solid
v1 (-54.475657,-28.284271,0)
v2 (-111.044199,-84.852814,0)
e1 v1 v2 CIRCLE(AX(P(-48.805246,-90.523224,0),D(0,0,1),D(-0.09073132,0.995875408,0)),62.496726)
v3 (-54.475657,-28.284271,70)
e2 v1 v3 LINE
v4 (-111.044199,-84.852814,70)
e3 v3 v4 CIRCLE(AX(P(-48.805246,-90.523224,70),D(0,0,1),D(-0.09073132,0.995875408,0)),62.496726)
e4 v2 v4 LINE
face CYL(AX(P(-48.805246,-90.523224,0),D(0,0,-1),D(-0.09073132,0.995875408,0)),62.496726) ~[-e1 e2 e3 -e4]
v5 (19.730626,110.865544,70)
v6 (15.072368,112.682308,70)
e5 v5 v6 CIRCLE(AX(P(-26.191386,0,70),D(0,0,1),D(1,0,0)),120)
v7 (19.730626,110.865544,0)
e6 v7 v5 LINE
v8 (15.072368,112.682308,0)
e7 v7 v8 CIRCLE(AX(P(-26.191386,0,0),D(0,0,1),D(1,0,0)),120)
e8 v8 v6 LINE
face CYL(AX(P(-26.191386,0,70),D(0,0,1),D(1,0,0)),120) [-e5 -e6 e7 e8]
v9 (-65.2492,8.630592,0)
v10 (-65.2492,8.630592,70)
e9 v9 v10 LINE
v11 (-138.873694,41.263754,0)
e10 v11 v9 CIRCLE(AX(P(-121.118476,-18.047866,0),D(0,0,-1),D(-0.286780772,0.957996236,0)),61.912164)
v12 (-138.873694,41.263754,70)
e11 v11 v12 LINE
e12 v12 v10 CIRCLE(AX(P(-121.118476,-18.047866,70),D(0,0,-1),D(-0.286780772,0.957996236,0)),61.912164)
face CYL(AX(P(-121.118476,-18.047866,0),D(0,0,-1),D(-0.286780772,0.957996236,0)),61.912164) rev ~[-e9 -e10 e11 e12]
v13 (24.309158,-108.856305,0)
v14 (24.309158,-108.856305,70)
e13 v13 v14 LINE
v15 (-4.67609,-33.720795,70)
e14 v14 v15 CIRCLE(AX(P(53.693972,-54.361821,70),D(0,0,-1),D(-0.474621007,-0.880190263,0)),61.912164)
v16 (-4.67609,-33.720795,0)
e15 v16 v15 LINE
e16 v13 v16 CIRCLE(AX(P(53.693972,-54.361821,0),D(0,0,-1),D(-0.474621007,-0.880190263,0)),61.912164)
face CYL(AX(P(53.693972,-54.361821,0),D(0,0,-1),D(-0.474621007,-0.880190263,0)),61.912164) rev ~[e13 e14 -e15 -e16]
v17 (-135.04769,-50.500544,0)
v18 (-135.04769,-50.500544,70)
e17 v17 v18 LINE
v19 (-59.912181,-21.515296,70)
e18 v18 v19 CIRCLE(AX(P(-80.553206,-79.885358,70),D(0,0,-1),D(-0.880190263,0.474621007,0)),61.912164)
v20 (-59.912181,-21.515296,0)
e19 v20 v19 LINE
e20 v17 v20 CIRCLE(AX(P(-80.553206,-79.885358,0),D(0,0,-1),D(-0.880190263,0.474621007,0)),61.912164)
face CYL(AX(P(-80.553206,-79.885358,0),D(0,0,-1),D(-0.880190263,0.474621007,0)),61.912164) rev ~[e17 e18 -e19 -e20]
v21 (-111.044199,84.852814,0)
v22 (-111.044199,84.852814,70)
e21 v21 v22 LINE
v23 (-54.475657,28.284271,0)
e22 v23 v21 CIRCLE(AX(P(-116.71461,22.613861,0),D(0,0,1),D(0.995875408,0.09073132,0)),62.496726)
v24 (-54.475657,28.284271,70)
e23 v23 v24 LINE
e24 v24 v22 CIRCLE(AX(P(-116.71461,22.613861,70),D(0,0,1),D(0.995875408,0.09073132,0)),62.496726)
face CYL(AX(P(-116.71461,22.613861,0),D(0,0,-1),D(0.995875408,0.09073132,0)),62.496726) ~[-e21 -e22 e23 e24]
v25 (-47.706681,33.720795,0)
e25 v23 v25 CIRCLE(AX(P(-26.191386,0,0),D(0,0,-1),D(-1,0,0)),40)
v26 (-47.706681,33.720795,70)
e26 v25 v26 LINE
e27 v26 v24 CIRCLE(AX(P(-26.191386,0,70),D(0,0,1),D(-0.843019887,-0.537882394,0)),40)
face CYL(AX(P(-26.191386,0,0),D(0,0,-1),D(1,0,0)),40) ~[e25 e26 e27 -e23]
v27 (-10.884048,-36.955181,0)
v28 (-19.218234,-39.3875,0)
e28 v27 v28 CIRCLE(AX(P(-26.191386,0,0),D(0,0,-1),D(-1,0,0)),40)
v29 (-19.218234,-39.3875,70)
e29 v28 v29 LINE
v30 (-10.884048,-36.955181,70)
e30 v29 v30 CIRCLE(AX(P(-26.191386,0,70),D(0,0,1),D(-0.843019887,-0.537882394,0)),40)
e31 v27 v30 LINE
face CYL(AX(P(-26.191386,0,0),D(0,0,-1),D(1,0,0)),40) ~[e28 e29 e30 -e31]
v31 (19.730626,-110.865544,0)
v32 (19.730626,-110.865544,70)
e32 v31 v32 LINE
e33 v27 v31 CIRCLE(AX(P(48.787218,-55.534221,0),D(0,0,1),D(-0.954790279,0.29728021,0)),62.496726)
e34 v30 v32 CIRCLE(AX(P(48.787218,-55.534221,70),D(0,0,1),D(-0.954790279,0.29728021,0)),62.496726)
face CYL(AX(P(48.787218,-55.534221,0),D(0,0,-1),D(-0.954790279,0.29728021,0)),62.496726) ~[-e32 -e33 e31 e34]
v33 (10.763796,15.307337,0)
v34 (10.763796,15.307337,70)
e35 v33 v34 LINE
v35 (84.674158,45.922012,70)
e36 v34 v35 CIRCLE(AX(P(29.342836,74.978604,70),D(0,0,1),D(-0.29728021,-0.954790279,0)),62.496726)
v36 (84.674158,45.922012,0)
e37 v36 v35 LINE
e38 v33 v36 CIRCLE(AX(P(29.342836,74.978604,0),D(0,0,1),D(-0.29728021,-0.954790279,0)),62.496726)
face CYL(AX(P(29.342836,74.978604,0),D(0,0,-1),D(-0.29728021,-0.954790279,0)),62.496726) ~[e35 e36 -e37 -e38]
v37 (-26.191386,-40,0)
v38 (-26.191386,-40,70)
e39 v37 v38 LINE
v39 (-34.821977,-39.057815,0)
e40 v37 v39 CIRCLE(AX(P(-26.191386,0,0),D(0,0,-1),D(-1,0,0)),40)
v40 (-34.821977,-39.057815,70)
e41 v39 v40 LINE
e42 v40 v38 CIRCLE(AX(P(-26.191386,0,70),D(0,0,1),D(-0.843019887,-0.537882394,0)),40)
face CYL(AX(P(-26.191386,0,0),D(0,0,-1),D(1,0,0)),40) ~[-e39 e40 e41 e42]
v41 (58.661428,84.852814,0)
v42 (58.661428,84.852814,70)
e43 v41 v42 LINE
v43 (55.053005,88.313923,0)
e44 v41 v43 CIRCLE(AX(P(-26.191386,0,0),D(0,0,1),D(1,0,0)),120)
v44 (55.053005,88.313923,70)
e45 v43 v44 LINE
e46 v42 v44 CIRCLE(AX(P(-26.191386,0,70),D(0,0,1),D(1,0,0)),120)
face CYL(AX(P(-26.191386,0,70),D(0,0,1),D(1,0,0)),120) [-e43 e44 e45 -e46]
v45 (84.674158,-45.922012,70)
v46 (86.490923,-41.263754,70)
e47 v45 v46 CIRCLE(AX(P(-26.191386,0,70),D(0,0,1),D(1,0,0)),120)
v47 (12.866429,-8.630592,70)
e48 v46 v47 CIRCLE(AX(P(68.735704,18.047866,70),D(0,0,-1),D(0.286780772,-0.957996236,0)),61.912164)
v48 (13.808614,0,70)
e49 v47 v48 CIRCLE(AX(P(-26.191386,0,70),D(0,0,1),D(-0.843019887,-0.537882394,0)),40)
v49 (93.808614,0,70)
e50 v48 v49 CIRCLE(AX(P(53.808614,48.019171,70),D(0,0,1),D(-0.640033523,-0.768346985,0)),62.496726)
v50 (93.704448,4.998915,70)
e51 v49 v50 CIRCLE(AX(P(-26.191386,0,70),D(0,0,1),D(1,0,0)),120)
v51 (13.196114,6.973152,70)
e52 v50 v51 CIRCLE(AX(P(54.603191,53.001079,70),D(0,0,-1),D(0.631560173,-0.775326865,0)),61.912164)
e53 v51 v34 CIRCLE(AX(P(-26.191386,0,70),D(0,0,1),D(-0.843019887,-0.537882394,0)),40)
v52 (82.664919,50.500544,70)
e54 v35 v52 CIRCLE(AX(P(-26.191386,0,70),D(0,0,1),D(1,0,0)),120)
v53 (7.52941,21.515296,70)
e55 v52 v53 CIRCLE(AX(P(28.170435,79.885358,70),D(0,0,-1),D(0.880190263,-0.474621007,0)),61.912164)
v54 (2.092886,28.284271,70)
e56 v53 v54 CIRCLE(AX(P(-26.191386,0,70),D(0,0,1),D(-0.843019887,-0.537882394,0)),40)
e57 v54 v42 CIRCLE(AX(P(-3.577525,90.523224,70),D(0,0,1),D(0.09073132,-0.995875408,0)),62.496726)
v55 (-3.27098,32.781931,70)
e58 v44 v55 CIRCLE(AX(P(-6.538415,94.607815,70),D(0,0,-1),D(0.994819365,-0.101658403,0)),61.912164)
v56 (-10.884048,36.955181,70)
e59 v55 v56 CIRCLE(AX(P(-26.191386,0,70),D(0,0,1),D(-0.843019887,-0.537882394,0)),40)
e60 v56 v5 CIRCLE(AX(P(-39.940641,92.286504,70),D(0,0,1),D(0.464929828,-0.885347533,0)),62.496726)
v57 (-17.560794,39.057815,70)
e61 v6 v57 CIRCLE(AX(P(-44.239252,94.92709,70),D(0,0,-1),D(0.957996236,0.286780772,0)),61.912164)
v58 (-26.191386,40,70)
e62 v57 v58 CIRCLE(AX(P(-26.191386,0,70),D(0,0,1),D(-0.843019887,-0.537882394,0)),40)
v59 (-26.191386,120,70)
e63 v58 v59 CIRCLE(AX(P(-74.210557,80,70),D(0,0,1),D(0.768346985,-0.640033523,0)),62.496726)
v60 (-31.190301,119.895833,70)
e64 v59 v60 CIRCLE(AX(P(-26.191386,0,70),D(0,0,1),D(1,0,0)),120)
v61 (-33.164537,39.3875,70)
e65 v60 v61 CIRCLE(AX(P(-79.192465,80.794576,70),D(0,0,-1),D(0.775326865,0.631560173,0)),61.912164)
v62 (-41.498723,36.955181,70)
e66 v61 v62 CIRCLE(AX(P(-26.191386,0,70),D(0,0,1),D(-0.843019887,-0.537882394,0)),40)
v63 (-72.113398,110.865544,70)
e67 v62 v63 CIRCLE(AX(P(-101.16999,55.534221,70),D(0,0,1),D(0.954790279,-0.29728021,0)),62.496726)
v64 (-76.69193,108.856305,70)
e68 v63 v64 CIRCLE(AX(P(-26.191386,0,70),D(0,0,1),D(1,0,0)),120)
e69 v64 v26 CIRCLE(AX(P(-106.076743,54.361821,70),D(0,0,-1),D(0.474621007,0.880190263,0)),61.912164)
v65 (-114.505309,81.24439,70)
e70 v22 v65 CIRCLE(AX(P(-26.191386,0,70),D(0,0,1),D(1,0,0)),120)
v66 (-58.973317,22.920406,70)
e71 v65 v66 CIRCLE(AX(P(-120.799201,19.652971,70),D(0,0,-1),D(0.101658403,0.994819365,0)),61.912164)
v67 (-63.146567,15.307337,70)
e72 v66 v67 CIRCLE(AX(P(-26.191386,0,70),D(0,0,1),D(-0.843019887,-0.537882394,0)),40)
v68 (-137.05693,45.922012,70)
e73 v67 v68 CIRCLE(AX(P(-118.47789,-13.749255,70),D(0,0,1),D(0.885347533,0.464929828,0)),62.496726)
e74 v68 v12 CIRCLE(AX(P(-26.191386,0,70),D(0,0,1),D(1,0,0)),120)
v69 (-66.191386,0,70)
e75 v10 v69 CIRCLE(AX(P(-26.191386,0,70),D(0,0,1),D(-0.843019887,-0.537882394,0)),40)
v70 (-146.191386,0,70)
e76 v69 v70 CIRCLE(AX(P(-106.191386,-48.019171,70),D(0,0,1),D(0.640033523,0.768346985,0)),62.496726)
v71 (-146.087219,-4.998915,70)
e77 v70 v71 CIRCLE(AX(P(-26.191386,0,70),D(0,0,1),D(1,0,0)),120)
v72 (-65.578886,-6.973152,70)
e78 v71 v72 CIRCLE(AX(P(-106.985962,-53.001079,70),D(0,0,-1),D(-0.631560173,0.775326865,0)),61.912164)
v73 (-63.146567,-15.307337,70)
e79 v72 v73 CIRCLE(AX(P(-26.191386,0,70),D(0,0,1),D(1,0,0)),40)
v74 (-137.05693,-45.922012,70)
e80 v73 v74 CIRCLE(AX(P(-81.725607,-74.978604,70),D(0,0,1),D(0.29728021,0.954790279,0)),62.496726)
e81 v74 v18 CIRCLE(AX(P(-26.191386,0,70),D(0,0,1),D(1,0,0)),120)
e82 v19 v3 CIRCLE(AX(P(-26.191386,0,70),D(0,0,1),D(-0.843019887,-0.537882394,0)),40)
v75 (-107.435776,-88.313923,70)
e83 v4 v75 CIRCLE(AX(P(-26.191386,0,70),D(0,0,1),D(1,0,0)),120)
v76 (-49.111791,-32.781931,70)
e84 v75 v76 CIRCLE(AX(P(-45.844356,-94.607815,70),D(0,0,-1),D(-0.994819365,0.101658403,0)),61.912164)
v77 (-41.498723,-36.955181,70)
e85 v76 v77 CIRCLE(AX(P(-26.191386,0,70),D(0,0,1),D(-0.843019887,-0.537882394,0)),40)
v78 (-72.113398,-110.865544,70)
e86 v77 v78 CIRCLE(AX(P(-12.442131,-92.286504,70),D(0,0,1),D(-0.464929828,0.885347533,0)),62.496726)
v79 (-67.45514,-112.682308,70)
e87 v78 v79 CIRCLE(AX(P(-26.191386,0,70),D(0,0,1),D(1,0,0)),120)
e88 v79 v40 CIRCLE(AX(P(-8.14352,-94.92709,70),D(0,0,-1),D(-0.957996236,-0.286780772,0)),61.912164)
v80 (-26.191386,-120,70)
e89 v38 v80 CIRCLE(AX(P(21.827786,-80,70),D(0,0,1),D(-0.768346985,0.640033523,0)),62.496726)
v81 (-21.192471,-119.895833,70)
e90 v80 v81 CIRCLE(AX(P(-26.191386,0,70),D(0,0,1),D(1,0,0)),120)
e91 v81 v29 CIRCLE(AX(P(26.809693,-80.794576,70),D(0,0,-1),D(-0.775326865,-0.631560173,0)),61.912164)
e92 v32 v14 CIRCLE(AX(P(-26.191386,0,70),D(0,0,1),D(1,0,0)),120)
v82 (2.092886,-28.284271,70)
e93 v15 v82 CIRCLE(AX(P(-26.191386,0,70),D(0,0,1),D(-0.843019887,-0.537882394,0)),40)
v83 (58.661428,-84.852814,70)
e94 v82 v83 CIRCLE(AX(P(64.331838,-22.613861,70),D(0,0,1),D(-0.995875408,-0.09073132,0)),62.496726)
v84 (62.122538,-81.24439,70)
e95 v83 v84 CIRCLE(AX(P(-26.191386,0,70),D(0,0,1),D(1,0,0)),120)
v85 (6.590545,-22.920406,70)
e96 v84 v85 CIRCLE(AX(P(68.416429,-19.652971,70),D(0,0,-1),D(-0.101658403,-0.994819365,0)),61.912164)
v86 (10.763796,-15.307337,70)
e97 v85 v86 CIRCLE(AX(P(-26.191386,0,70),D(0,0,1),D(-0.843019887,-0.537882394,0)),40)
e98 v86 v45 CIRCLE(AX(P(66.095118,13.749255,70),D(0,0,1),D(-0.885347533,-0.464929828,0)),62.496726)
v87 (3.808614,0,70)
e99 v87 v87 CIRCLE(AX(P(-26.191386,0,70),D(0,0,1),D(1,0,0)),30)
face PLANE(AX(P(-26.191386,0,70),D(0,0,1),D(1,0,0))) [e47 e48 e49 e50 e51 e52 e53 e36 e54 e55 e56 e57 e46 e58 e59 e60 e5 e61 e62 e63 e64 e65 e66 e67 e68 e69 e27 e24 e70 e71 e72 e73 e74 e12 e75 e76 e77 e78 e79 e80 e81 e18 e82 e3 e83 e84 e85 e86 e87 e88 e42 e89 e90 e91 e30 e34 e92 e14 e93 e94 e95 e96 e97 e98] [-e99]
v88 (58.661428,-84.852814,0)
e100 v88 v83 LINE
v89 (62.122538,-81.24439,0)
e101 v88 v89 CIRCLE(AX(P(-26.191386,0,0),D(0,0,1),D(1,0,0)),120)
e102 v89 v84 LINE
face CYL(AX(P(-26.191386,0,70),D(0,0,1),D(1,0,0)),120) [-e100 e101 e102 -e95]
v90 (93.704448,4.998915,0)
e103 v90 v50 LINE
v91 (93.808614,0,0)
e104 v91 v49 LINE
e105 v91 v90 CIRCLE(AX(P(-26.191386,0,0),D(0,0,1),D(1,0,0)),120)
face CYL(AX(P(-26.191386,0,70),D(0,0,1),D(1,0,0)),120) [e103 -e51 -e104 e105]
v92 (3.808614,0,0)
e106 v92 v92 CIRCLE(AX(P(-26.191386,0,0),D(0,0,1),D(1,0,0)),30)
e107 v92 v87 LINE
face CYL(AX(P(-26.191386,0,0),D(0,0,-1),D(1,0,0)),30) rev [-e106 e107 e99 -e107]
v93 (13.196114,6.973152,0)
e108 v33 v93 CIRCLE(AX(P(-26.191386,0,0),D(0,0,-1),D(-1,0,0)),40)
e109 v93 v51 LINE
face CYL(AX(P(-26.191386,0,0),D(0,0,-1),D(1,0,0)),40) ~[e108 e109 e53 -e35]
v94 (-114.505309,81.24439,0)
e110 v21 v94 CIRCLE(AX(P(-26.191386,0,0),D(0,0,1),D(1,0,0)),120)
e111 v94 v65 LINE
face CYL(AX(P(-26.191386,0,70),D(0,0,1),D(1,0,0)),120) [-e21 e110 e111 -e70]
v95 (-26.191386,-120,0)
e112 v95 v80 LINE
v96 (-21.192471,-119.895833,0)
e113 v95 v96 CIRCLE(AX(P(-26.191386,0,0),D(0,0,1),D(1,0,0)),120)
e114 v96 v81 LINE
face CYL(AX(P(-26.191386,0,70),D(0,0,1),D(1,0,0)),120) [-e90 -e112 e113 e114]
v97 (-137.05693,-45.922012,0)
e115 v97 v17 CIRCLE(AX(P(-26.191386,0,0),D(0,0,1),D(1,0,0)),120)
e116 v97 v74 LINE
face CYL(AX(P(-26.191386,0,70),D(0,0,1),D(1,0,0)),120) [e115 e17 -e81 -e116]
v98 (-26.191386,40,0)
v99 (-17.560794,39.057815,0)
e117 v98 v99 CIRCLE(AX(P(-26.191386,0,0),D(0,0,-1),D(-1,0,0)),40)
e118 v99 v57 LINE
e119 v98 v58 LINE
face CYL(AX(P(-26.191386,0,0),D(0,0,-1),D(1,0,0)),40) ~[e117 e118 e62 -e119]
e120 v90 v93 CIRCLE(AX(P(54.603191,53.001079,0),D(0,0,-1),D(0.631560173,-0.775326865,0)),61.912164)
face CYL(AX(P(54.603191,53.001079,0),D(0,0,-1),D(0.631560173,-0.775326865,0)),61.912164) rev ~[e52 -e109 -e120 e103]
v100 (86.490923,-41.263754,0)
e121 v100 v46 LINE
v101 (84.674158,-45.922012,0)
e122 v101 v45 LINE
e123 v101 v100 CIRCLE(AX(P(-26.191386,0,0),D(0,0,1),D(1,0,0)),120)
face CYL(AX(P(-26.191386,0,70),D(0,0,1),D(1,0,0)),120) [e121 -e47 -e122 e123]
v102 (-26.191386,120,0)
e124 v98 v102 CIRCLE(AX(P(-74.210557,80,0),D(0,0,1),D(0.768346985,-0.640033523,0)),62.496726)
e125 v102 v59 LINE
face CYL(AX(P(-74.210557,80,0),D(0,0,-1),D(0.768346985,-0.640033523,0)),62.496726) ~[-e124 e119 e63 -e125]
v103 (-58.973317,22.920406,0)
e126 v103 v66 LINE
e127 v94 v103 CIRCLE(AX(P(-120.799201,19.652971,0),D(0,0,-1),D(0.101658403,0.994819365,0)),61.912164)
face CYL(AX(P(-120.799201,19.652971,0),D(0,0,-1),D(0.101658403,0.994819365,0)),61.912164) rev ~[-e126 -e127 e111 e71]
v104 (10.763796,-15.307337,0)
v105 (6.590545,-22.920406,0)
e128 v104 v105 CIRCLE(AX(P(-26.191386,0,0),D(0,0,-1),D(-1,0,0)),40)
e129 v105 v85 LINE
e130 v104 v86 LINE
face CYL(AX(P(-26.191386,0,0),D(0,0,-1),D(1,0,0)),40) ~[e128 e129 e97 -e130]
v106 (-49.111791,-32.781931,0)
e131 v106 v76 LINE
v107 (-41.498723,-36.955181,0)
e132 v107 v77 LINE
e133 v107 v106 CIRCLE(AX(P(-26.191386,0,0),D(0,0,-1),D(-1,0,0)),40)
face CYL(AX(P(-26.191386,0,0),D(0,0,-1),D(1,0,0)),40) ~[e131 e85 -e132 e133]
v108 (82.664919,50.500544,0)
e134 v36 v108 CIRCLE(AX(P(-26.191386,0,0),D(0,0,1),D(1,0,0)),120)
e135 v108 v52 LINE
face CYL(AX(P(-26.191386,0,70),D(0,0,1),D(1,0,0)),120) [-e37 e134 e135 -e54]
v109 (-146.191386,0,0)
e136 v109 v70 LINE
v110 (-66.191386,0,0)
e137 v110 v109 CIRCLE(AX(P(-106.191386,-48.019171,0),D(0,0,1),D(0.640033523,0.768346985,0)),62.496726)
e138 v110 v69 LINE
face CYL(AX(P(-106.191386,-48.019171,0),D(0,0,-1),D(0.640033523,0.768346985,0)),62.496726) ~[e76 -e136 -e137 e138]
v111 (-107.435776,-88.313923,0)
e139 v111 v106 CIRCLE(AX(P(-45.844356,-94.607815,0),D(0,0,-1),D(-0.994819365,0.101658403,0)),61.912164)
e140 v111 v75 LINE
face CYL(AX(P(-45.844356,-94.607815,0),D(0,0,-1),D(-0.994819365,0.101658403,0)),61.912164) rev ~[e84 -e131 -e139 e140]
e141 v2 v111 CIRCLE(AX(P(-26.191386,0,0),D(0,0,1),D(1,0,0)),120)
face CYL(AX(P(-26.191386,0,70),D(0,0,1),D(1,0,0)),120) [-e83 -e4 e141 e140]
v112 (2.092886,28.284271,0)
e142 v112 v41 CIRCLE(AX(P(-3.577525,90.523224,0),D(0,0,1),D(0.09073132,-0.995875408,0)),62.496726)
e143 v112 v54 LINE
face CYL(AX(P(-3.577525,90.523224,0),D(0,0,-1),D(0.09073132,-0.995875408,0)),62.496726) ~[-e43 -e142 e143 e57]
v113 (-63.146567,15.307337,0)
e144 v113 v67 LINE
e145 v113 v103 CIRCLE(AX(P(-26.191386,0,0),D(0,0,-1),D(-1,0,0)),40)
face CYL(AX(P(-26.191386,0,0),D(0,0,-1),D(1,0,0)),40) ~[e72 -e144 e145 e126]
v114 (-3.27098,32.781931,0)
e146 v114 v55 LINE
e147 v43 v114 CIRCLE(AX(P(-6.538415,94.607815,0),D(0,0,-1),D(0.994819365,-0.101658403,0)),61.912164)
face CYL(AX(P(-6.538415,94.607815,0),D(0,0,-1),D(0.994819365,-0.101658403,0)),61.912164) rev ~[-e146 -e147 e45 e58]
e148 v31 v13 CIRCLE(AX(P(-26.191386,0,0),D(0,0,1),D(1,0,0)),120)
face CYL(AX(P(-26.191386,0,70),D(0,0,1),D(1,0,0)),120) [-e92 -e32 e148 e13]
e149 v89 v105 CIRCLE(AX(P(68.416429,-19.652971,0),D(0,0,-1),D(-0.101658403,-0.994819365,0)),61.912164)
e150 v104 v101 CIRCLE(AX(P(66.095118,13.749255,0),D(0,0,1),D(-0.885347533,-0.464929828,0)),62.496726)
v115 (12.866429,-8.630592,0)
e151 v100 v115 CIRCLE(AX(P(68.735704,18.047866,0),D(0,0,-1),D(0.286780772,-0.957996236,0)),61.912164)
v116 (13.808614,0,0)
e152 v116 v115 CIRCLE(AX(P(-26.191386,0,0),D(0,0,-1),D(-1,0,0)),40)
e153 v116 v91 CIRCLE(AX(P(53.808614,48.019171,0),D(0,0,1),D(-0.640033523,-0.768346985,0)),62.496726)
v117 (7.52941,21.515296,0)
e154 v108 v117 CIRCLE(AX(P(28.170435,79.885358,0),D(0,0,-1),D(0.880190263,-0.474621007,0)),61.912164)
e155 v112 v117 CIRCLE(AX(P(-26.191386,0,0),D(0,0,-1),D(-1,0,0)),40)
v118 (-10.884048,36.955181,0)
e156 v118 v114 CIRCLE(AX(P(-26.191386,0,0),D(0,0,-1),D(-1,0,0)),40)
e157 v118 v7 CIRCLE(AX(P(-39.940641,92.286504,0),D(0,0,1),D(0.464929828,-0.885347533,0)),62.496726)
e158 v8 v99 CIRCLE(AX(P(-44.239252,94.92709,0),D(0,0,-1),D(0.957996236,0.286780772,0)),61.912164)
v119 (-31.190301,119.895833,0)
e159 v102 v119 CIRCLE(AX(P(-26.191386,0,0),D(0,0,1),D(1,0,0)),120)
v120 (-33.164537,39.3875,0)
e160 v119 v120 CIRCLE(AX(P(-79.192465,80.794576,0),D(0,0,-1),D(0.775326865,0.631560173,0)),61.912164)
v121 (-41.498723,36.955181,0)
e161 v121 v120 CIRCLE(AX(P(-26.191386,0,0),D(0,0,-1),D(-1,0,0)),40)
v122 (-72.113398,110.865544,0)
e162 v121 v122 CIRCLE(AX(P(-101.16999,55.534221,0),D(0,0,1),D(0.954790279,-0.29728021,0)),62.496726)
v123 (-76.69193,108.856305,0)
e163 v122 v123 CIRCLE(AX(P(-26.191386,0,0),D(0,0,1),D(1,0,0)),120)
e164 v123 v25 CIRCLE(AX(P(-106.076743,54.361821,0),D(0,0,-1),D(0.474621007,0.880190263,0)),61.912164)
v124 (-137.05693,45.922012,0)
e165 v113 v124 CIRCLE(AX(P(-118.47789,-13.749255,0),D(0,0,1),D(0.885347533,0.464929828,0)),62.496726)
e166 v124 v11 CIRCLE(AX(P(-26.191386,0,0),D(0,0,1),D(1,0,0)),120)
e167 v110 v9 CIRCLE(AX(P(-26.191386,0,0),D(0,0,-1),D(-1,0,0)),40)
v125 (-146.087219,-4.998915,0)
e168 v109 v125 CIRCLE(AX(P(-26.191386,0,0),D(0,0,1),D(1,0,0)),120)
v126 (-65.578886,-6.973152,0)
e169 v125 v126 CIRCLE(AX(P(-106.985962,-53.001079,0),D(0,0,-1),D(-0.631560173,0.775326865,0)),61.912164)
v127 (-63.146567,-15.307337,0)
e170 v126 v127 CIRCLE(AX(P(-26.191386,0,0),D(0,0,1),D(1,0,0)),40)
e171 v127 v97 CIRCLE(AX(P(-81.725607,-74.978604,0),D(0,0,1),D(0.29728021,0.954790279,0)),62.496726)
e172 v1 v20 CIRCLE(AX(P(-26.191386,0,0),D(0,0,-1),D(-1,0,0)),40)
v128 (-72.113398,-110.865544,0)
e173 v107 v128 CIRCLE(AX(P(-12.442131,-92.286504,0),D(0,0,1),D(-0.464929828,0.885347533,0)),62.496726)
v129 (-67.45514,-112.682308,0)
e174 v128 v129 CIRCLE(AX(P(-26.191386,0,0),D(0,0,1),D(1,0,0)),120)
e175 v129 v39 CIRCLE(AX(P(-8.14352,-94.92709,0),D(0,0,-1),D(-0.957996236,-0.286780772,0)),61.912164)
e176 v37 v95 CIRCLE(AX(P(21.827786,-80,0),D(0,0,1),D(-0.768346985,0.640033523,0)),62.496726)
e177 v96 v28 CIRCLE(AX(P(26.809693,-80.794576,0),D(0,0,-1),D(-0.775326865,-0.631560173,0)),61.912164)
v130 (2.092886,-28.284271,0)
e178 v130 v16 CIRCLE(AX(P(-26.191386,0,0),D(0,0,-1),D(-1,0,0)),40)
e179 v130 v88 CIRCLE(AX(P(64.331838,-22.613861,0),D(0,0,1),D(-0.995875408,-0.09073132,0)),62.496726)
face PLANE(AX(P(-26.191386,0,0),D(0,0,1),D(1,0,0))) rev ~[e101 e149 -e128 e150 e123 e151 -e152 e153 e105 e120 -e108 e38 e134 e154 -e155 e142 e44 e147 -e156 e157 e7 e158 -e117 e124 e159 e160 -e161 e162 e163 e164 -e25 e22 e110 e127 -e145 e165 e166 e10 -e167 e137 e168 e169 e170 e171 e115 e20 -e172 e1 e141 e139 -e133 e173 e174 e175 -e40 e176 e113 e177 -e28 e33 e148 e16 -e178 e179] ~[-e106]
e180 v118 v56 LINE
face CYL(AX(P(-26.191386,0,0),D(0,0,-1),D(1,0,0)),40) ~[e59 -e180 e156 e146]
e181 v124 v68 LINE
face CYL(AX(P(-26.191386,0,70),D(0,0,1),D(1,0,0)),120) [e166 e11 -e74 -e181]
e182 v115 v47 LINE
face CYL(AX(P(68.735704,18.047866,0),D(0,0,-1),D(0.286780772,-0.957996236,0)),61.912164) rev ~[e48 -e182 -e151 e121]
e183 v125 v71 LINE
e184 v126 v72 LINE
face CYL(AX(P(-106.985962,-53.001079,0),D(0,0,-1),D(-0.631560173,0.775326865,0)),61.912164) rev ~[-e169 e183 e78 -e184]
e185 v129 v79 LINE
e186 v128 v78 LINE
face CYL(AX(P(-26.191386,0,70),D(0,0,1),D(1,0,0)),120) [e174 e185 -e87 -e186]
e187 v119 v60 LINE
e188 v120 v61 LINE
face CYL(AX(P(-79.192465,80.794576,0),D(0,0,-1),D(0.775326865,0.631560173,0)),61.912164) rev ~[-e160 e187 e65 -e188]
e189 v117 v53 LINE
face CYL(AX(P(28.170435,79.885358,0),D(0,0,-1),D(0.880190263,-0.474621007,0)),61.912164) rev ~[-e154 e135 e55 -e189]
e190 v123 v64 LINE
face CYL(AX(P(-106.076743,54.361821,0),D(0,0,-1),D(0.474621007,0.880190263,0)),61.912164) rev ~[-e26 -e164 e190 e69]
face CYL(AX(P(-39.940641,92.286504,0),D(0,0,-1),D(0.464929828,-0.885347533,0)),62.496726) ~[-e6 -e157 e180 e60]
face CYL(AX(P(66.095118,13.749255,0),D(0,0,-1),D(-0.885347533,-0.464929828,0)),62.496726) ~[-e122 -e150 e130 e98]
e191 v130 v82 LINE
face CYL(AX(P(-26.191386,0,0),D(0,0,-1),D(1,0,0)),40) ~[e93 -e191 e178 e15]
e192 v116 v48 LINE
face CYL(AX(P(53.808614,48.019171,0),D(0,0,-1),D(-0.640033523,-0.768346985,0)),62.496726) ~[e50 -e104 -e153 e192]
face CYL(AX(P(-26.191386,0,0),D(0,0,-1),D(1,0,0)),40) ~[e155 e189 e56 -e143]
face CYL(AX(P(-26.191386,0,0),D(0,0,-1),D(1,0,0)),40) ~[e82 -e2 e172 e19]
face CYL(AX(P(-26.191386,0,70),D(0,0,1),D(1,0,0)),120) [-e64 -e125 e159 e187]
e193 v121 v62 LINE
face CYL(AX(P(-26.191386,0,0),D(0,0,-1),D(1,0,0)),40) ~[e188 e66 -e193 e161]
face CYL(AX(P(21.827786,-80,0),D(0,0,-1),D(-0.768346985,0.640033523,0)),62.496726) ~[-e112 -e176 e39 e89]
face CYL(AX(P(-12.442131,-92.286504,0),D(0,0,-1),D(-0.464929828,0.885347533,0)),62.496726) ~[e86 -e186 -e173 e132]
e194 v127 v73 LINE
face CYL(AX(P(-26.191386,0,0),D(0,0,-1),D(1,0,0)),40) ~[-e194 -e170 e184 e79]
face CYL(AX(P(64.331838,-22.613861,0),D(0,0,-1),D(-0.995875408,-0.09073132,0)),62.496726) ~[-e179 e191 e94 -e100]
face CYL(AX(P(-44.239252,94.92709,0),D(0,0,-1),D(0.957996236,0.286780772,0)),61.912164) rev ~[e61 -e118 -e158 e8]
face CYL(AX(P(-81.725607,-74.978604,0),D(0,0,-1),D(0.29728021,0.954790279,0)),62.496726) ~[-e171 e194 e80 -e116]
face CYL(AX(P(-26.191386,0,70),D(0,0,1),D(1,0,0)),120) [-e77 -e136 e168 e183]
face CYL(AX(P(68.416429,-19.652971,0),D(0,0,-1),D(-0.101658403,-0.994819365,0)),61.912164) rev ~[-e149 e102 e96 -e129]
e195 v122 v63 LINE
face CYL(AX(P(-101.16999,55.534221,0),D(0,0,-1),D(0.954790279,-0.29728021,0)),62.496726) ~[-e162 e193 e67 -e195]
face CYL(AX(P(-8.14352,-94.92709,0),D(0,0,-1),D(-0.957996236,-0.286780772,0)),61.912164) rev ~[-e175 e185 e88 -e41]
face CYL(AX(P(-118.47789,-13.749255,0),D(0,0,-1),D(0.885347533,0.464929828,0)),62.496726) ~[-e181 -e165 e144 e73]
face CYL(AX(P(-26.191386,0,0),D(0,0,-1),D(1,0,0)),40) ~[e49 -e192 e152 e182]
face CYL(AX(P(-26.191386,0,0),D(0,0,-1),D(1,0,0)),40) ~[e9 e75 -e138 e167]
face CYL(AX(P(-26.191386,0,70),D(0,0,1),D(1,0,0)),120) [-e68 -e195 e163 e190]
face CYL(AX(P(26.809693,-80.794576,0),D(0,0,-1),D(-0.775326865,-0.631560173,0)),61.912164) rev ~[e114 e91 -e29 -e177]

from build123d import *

# Parameters (mm, degrees)
SZKIC1_R                    = 40
SZKIC1_R_2                  = 30
DODANIE_WYCI_GNI_CIE1_DEPTH = 70
SZKIC2_R                    = 130
SZKIC2_R_2                  = 120
DODANIE_WYCI_GNI_CIE2_DEPTH = 70
DODANIE_WYCI_GNI_CIE3_START = -70
DODANIE_WYCI_GNI_CIE3_DEPTH = 70
SZYK_KO_OWY1_COUNT          = 16
SZKIC4_R                    = 130
SZKIC4_R_2                  = 120
WYTNIJ_WYCI_GNI_CIE1_DEPTH  = 70


with BuildPart() as part:
    # Szkic1 → Dodanie-wyciągnięcie1 (new body)
    with BuildSketch(Plane.XY):
        with Locations((-26.191385705, 0)):
            Circle(SZKIC1_R)
        with Locations((-26.191385705, 0)):
            Circle(SZKIC1_R_2, mode=Mode.SUBTRACT)
    extrude(amount=DODANIE_WYCI_GNI_CIE1_DEPTH)



with BuildPart() as body_2:
    # Szkic2 → Dodanie-wyciągnięcie2 (new body)
    with BuildSketch(Plane.XY.offset(70)):
        with Locations((-26.191385705, 0)):
            Circle(SZKIC2_R)
        with Locations((-26.191385705, 0)):
            Circle(SZKIC2_R_2, mode=Mode.SUBTRACT)
    extrude(amount=-DODANIE_WYCI_GNI_CIE2_DEPTH)


with BuildPart() as part_1:
    add(part.part)

    add(body_2.part)  # Dodanie-wyciągnięcie3 merges body 2
    # Szkic3 → Dodanie-wyciągnięcie3 (add)
    with BuildSketch(Plane.XY.offset(70).offset(DODANIE_WYCI_GNI_CIE3_START)):
        with BuildLine():
            ThreePointArc((-66.191385705, 0), (-106.191385705, 14.477555095), (-146.191385705, 0))
            ThreePointArc((-146.191385705, 0), (-146.165341212, -2.5), (-146.087219038, -4.998914813))
            ThreePointArc((-146.087219038, -4.998914813), (-105.468199385, 8.892478563), (-65.578885705, -6.973151637))
            ThreePointArc((-65.578885705, -6.973151637), (-66.037966486, -3.5), (-66.191385705, 0))
        make_face()
    dodanie_wyci_gni_cie3 = extrude(amount=DODANIE_WYCI_GNI_CIE3_DEPTH)

    # Szyk kołowy1: Dodanie-wyciągnięcie3 ×16 about axis
    szyk_ko_owy1_axis = Axis((-26.191385705, 0, 0), (0, 0, 1))
    for i in range(1, SZYK_KO_OWY1_COUNT):
        add(dodanie_wyci_gni_cie3.rotate(szyk_ko_owy1_axis, i * 360 / SZYK_KO_OWY1_COUNT))

    # Szkic4 → Wytnij-wyciągnięcie1 (cut)
    with BuildSketch(Plane.XY.offset(70)):
        with Locations((-26.191385705, 0)):
            Circle(SZKIC4_R)
        with Locations((-26.191385705, 0)):
            Circle(SZKIC4_R_2, mode=Mode.SUBTRACT)
    extrude(amount=-WYTNIJ_WYCI_GNI_CIE1_DEPTH, mode=Mode.SUBTRACT)


solid = part_1.part
